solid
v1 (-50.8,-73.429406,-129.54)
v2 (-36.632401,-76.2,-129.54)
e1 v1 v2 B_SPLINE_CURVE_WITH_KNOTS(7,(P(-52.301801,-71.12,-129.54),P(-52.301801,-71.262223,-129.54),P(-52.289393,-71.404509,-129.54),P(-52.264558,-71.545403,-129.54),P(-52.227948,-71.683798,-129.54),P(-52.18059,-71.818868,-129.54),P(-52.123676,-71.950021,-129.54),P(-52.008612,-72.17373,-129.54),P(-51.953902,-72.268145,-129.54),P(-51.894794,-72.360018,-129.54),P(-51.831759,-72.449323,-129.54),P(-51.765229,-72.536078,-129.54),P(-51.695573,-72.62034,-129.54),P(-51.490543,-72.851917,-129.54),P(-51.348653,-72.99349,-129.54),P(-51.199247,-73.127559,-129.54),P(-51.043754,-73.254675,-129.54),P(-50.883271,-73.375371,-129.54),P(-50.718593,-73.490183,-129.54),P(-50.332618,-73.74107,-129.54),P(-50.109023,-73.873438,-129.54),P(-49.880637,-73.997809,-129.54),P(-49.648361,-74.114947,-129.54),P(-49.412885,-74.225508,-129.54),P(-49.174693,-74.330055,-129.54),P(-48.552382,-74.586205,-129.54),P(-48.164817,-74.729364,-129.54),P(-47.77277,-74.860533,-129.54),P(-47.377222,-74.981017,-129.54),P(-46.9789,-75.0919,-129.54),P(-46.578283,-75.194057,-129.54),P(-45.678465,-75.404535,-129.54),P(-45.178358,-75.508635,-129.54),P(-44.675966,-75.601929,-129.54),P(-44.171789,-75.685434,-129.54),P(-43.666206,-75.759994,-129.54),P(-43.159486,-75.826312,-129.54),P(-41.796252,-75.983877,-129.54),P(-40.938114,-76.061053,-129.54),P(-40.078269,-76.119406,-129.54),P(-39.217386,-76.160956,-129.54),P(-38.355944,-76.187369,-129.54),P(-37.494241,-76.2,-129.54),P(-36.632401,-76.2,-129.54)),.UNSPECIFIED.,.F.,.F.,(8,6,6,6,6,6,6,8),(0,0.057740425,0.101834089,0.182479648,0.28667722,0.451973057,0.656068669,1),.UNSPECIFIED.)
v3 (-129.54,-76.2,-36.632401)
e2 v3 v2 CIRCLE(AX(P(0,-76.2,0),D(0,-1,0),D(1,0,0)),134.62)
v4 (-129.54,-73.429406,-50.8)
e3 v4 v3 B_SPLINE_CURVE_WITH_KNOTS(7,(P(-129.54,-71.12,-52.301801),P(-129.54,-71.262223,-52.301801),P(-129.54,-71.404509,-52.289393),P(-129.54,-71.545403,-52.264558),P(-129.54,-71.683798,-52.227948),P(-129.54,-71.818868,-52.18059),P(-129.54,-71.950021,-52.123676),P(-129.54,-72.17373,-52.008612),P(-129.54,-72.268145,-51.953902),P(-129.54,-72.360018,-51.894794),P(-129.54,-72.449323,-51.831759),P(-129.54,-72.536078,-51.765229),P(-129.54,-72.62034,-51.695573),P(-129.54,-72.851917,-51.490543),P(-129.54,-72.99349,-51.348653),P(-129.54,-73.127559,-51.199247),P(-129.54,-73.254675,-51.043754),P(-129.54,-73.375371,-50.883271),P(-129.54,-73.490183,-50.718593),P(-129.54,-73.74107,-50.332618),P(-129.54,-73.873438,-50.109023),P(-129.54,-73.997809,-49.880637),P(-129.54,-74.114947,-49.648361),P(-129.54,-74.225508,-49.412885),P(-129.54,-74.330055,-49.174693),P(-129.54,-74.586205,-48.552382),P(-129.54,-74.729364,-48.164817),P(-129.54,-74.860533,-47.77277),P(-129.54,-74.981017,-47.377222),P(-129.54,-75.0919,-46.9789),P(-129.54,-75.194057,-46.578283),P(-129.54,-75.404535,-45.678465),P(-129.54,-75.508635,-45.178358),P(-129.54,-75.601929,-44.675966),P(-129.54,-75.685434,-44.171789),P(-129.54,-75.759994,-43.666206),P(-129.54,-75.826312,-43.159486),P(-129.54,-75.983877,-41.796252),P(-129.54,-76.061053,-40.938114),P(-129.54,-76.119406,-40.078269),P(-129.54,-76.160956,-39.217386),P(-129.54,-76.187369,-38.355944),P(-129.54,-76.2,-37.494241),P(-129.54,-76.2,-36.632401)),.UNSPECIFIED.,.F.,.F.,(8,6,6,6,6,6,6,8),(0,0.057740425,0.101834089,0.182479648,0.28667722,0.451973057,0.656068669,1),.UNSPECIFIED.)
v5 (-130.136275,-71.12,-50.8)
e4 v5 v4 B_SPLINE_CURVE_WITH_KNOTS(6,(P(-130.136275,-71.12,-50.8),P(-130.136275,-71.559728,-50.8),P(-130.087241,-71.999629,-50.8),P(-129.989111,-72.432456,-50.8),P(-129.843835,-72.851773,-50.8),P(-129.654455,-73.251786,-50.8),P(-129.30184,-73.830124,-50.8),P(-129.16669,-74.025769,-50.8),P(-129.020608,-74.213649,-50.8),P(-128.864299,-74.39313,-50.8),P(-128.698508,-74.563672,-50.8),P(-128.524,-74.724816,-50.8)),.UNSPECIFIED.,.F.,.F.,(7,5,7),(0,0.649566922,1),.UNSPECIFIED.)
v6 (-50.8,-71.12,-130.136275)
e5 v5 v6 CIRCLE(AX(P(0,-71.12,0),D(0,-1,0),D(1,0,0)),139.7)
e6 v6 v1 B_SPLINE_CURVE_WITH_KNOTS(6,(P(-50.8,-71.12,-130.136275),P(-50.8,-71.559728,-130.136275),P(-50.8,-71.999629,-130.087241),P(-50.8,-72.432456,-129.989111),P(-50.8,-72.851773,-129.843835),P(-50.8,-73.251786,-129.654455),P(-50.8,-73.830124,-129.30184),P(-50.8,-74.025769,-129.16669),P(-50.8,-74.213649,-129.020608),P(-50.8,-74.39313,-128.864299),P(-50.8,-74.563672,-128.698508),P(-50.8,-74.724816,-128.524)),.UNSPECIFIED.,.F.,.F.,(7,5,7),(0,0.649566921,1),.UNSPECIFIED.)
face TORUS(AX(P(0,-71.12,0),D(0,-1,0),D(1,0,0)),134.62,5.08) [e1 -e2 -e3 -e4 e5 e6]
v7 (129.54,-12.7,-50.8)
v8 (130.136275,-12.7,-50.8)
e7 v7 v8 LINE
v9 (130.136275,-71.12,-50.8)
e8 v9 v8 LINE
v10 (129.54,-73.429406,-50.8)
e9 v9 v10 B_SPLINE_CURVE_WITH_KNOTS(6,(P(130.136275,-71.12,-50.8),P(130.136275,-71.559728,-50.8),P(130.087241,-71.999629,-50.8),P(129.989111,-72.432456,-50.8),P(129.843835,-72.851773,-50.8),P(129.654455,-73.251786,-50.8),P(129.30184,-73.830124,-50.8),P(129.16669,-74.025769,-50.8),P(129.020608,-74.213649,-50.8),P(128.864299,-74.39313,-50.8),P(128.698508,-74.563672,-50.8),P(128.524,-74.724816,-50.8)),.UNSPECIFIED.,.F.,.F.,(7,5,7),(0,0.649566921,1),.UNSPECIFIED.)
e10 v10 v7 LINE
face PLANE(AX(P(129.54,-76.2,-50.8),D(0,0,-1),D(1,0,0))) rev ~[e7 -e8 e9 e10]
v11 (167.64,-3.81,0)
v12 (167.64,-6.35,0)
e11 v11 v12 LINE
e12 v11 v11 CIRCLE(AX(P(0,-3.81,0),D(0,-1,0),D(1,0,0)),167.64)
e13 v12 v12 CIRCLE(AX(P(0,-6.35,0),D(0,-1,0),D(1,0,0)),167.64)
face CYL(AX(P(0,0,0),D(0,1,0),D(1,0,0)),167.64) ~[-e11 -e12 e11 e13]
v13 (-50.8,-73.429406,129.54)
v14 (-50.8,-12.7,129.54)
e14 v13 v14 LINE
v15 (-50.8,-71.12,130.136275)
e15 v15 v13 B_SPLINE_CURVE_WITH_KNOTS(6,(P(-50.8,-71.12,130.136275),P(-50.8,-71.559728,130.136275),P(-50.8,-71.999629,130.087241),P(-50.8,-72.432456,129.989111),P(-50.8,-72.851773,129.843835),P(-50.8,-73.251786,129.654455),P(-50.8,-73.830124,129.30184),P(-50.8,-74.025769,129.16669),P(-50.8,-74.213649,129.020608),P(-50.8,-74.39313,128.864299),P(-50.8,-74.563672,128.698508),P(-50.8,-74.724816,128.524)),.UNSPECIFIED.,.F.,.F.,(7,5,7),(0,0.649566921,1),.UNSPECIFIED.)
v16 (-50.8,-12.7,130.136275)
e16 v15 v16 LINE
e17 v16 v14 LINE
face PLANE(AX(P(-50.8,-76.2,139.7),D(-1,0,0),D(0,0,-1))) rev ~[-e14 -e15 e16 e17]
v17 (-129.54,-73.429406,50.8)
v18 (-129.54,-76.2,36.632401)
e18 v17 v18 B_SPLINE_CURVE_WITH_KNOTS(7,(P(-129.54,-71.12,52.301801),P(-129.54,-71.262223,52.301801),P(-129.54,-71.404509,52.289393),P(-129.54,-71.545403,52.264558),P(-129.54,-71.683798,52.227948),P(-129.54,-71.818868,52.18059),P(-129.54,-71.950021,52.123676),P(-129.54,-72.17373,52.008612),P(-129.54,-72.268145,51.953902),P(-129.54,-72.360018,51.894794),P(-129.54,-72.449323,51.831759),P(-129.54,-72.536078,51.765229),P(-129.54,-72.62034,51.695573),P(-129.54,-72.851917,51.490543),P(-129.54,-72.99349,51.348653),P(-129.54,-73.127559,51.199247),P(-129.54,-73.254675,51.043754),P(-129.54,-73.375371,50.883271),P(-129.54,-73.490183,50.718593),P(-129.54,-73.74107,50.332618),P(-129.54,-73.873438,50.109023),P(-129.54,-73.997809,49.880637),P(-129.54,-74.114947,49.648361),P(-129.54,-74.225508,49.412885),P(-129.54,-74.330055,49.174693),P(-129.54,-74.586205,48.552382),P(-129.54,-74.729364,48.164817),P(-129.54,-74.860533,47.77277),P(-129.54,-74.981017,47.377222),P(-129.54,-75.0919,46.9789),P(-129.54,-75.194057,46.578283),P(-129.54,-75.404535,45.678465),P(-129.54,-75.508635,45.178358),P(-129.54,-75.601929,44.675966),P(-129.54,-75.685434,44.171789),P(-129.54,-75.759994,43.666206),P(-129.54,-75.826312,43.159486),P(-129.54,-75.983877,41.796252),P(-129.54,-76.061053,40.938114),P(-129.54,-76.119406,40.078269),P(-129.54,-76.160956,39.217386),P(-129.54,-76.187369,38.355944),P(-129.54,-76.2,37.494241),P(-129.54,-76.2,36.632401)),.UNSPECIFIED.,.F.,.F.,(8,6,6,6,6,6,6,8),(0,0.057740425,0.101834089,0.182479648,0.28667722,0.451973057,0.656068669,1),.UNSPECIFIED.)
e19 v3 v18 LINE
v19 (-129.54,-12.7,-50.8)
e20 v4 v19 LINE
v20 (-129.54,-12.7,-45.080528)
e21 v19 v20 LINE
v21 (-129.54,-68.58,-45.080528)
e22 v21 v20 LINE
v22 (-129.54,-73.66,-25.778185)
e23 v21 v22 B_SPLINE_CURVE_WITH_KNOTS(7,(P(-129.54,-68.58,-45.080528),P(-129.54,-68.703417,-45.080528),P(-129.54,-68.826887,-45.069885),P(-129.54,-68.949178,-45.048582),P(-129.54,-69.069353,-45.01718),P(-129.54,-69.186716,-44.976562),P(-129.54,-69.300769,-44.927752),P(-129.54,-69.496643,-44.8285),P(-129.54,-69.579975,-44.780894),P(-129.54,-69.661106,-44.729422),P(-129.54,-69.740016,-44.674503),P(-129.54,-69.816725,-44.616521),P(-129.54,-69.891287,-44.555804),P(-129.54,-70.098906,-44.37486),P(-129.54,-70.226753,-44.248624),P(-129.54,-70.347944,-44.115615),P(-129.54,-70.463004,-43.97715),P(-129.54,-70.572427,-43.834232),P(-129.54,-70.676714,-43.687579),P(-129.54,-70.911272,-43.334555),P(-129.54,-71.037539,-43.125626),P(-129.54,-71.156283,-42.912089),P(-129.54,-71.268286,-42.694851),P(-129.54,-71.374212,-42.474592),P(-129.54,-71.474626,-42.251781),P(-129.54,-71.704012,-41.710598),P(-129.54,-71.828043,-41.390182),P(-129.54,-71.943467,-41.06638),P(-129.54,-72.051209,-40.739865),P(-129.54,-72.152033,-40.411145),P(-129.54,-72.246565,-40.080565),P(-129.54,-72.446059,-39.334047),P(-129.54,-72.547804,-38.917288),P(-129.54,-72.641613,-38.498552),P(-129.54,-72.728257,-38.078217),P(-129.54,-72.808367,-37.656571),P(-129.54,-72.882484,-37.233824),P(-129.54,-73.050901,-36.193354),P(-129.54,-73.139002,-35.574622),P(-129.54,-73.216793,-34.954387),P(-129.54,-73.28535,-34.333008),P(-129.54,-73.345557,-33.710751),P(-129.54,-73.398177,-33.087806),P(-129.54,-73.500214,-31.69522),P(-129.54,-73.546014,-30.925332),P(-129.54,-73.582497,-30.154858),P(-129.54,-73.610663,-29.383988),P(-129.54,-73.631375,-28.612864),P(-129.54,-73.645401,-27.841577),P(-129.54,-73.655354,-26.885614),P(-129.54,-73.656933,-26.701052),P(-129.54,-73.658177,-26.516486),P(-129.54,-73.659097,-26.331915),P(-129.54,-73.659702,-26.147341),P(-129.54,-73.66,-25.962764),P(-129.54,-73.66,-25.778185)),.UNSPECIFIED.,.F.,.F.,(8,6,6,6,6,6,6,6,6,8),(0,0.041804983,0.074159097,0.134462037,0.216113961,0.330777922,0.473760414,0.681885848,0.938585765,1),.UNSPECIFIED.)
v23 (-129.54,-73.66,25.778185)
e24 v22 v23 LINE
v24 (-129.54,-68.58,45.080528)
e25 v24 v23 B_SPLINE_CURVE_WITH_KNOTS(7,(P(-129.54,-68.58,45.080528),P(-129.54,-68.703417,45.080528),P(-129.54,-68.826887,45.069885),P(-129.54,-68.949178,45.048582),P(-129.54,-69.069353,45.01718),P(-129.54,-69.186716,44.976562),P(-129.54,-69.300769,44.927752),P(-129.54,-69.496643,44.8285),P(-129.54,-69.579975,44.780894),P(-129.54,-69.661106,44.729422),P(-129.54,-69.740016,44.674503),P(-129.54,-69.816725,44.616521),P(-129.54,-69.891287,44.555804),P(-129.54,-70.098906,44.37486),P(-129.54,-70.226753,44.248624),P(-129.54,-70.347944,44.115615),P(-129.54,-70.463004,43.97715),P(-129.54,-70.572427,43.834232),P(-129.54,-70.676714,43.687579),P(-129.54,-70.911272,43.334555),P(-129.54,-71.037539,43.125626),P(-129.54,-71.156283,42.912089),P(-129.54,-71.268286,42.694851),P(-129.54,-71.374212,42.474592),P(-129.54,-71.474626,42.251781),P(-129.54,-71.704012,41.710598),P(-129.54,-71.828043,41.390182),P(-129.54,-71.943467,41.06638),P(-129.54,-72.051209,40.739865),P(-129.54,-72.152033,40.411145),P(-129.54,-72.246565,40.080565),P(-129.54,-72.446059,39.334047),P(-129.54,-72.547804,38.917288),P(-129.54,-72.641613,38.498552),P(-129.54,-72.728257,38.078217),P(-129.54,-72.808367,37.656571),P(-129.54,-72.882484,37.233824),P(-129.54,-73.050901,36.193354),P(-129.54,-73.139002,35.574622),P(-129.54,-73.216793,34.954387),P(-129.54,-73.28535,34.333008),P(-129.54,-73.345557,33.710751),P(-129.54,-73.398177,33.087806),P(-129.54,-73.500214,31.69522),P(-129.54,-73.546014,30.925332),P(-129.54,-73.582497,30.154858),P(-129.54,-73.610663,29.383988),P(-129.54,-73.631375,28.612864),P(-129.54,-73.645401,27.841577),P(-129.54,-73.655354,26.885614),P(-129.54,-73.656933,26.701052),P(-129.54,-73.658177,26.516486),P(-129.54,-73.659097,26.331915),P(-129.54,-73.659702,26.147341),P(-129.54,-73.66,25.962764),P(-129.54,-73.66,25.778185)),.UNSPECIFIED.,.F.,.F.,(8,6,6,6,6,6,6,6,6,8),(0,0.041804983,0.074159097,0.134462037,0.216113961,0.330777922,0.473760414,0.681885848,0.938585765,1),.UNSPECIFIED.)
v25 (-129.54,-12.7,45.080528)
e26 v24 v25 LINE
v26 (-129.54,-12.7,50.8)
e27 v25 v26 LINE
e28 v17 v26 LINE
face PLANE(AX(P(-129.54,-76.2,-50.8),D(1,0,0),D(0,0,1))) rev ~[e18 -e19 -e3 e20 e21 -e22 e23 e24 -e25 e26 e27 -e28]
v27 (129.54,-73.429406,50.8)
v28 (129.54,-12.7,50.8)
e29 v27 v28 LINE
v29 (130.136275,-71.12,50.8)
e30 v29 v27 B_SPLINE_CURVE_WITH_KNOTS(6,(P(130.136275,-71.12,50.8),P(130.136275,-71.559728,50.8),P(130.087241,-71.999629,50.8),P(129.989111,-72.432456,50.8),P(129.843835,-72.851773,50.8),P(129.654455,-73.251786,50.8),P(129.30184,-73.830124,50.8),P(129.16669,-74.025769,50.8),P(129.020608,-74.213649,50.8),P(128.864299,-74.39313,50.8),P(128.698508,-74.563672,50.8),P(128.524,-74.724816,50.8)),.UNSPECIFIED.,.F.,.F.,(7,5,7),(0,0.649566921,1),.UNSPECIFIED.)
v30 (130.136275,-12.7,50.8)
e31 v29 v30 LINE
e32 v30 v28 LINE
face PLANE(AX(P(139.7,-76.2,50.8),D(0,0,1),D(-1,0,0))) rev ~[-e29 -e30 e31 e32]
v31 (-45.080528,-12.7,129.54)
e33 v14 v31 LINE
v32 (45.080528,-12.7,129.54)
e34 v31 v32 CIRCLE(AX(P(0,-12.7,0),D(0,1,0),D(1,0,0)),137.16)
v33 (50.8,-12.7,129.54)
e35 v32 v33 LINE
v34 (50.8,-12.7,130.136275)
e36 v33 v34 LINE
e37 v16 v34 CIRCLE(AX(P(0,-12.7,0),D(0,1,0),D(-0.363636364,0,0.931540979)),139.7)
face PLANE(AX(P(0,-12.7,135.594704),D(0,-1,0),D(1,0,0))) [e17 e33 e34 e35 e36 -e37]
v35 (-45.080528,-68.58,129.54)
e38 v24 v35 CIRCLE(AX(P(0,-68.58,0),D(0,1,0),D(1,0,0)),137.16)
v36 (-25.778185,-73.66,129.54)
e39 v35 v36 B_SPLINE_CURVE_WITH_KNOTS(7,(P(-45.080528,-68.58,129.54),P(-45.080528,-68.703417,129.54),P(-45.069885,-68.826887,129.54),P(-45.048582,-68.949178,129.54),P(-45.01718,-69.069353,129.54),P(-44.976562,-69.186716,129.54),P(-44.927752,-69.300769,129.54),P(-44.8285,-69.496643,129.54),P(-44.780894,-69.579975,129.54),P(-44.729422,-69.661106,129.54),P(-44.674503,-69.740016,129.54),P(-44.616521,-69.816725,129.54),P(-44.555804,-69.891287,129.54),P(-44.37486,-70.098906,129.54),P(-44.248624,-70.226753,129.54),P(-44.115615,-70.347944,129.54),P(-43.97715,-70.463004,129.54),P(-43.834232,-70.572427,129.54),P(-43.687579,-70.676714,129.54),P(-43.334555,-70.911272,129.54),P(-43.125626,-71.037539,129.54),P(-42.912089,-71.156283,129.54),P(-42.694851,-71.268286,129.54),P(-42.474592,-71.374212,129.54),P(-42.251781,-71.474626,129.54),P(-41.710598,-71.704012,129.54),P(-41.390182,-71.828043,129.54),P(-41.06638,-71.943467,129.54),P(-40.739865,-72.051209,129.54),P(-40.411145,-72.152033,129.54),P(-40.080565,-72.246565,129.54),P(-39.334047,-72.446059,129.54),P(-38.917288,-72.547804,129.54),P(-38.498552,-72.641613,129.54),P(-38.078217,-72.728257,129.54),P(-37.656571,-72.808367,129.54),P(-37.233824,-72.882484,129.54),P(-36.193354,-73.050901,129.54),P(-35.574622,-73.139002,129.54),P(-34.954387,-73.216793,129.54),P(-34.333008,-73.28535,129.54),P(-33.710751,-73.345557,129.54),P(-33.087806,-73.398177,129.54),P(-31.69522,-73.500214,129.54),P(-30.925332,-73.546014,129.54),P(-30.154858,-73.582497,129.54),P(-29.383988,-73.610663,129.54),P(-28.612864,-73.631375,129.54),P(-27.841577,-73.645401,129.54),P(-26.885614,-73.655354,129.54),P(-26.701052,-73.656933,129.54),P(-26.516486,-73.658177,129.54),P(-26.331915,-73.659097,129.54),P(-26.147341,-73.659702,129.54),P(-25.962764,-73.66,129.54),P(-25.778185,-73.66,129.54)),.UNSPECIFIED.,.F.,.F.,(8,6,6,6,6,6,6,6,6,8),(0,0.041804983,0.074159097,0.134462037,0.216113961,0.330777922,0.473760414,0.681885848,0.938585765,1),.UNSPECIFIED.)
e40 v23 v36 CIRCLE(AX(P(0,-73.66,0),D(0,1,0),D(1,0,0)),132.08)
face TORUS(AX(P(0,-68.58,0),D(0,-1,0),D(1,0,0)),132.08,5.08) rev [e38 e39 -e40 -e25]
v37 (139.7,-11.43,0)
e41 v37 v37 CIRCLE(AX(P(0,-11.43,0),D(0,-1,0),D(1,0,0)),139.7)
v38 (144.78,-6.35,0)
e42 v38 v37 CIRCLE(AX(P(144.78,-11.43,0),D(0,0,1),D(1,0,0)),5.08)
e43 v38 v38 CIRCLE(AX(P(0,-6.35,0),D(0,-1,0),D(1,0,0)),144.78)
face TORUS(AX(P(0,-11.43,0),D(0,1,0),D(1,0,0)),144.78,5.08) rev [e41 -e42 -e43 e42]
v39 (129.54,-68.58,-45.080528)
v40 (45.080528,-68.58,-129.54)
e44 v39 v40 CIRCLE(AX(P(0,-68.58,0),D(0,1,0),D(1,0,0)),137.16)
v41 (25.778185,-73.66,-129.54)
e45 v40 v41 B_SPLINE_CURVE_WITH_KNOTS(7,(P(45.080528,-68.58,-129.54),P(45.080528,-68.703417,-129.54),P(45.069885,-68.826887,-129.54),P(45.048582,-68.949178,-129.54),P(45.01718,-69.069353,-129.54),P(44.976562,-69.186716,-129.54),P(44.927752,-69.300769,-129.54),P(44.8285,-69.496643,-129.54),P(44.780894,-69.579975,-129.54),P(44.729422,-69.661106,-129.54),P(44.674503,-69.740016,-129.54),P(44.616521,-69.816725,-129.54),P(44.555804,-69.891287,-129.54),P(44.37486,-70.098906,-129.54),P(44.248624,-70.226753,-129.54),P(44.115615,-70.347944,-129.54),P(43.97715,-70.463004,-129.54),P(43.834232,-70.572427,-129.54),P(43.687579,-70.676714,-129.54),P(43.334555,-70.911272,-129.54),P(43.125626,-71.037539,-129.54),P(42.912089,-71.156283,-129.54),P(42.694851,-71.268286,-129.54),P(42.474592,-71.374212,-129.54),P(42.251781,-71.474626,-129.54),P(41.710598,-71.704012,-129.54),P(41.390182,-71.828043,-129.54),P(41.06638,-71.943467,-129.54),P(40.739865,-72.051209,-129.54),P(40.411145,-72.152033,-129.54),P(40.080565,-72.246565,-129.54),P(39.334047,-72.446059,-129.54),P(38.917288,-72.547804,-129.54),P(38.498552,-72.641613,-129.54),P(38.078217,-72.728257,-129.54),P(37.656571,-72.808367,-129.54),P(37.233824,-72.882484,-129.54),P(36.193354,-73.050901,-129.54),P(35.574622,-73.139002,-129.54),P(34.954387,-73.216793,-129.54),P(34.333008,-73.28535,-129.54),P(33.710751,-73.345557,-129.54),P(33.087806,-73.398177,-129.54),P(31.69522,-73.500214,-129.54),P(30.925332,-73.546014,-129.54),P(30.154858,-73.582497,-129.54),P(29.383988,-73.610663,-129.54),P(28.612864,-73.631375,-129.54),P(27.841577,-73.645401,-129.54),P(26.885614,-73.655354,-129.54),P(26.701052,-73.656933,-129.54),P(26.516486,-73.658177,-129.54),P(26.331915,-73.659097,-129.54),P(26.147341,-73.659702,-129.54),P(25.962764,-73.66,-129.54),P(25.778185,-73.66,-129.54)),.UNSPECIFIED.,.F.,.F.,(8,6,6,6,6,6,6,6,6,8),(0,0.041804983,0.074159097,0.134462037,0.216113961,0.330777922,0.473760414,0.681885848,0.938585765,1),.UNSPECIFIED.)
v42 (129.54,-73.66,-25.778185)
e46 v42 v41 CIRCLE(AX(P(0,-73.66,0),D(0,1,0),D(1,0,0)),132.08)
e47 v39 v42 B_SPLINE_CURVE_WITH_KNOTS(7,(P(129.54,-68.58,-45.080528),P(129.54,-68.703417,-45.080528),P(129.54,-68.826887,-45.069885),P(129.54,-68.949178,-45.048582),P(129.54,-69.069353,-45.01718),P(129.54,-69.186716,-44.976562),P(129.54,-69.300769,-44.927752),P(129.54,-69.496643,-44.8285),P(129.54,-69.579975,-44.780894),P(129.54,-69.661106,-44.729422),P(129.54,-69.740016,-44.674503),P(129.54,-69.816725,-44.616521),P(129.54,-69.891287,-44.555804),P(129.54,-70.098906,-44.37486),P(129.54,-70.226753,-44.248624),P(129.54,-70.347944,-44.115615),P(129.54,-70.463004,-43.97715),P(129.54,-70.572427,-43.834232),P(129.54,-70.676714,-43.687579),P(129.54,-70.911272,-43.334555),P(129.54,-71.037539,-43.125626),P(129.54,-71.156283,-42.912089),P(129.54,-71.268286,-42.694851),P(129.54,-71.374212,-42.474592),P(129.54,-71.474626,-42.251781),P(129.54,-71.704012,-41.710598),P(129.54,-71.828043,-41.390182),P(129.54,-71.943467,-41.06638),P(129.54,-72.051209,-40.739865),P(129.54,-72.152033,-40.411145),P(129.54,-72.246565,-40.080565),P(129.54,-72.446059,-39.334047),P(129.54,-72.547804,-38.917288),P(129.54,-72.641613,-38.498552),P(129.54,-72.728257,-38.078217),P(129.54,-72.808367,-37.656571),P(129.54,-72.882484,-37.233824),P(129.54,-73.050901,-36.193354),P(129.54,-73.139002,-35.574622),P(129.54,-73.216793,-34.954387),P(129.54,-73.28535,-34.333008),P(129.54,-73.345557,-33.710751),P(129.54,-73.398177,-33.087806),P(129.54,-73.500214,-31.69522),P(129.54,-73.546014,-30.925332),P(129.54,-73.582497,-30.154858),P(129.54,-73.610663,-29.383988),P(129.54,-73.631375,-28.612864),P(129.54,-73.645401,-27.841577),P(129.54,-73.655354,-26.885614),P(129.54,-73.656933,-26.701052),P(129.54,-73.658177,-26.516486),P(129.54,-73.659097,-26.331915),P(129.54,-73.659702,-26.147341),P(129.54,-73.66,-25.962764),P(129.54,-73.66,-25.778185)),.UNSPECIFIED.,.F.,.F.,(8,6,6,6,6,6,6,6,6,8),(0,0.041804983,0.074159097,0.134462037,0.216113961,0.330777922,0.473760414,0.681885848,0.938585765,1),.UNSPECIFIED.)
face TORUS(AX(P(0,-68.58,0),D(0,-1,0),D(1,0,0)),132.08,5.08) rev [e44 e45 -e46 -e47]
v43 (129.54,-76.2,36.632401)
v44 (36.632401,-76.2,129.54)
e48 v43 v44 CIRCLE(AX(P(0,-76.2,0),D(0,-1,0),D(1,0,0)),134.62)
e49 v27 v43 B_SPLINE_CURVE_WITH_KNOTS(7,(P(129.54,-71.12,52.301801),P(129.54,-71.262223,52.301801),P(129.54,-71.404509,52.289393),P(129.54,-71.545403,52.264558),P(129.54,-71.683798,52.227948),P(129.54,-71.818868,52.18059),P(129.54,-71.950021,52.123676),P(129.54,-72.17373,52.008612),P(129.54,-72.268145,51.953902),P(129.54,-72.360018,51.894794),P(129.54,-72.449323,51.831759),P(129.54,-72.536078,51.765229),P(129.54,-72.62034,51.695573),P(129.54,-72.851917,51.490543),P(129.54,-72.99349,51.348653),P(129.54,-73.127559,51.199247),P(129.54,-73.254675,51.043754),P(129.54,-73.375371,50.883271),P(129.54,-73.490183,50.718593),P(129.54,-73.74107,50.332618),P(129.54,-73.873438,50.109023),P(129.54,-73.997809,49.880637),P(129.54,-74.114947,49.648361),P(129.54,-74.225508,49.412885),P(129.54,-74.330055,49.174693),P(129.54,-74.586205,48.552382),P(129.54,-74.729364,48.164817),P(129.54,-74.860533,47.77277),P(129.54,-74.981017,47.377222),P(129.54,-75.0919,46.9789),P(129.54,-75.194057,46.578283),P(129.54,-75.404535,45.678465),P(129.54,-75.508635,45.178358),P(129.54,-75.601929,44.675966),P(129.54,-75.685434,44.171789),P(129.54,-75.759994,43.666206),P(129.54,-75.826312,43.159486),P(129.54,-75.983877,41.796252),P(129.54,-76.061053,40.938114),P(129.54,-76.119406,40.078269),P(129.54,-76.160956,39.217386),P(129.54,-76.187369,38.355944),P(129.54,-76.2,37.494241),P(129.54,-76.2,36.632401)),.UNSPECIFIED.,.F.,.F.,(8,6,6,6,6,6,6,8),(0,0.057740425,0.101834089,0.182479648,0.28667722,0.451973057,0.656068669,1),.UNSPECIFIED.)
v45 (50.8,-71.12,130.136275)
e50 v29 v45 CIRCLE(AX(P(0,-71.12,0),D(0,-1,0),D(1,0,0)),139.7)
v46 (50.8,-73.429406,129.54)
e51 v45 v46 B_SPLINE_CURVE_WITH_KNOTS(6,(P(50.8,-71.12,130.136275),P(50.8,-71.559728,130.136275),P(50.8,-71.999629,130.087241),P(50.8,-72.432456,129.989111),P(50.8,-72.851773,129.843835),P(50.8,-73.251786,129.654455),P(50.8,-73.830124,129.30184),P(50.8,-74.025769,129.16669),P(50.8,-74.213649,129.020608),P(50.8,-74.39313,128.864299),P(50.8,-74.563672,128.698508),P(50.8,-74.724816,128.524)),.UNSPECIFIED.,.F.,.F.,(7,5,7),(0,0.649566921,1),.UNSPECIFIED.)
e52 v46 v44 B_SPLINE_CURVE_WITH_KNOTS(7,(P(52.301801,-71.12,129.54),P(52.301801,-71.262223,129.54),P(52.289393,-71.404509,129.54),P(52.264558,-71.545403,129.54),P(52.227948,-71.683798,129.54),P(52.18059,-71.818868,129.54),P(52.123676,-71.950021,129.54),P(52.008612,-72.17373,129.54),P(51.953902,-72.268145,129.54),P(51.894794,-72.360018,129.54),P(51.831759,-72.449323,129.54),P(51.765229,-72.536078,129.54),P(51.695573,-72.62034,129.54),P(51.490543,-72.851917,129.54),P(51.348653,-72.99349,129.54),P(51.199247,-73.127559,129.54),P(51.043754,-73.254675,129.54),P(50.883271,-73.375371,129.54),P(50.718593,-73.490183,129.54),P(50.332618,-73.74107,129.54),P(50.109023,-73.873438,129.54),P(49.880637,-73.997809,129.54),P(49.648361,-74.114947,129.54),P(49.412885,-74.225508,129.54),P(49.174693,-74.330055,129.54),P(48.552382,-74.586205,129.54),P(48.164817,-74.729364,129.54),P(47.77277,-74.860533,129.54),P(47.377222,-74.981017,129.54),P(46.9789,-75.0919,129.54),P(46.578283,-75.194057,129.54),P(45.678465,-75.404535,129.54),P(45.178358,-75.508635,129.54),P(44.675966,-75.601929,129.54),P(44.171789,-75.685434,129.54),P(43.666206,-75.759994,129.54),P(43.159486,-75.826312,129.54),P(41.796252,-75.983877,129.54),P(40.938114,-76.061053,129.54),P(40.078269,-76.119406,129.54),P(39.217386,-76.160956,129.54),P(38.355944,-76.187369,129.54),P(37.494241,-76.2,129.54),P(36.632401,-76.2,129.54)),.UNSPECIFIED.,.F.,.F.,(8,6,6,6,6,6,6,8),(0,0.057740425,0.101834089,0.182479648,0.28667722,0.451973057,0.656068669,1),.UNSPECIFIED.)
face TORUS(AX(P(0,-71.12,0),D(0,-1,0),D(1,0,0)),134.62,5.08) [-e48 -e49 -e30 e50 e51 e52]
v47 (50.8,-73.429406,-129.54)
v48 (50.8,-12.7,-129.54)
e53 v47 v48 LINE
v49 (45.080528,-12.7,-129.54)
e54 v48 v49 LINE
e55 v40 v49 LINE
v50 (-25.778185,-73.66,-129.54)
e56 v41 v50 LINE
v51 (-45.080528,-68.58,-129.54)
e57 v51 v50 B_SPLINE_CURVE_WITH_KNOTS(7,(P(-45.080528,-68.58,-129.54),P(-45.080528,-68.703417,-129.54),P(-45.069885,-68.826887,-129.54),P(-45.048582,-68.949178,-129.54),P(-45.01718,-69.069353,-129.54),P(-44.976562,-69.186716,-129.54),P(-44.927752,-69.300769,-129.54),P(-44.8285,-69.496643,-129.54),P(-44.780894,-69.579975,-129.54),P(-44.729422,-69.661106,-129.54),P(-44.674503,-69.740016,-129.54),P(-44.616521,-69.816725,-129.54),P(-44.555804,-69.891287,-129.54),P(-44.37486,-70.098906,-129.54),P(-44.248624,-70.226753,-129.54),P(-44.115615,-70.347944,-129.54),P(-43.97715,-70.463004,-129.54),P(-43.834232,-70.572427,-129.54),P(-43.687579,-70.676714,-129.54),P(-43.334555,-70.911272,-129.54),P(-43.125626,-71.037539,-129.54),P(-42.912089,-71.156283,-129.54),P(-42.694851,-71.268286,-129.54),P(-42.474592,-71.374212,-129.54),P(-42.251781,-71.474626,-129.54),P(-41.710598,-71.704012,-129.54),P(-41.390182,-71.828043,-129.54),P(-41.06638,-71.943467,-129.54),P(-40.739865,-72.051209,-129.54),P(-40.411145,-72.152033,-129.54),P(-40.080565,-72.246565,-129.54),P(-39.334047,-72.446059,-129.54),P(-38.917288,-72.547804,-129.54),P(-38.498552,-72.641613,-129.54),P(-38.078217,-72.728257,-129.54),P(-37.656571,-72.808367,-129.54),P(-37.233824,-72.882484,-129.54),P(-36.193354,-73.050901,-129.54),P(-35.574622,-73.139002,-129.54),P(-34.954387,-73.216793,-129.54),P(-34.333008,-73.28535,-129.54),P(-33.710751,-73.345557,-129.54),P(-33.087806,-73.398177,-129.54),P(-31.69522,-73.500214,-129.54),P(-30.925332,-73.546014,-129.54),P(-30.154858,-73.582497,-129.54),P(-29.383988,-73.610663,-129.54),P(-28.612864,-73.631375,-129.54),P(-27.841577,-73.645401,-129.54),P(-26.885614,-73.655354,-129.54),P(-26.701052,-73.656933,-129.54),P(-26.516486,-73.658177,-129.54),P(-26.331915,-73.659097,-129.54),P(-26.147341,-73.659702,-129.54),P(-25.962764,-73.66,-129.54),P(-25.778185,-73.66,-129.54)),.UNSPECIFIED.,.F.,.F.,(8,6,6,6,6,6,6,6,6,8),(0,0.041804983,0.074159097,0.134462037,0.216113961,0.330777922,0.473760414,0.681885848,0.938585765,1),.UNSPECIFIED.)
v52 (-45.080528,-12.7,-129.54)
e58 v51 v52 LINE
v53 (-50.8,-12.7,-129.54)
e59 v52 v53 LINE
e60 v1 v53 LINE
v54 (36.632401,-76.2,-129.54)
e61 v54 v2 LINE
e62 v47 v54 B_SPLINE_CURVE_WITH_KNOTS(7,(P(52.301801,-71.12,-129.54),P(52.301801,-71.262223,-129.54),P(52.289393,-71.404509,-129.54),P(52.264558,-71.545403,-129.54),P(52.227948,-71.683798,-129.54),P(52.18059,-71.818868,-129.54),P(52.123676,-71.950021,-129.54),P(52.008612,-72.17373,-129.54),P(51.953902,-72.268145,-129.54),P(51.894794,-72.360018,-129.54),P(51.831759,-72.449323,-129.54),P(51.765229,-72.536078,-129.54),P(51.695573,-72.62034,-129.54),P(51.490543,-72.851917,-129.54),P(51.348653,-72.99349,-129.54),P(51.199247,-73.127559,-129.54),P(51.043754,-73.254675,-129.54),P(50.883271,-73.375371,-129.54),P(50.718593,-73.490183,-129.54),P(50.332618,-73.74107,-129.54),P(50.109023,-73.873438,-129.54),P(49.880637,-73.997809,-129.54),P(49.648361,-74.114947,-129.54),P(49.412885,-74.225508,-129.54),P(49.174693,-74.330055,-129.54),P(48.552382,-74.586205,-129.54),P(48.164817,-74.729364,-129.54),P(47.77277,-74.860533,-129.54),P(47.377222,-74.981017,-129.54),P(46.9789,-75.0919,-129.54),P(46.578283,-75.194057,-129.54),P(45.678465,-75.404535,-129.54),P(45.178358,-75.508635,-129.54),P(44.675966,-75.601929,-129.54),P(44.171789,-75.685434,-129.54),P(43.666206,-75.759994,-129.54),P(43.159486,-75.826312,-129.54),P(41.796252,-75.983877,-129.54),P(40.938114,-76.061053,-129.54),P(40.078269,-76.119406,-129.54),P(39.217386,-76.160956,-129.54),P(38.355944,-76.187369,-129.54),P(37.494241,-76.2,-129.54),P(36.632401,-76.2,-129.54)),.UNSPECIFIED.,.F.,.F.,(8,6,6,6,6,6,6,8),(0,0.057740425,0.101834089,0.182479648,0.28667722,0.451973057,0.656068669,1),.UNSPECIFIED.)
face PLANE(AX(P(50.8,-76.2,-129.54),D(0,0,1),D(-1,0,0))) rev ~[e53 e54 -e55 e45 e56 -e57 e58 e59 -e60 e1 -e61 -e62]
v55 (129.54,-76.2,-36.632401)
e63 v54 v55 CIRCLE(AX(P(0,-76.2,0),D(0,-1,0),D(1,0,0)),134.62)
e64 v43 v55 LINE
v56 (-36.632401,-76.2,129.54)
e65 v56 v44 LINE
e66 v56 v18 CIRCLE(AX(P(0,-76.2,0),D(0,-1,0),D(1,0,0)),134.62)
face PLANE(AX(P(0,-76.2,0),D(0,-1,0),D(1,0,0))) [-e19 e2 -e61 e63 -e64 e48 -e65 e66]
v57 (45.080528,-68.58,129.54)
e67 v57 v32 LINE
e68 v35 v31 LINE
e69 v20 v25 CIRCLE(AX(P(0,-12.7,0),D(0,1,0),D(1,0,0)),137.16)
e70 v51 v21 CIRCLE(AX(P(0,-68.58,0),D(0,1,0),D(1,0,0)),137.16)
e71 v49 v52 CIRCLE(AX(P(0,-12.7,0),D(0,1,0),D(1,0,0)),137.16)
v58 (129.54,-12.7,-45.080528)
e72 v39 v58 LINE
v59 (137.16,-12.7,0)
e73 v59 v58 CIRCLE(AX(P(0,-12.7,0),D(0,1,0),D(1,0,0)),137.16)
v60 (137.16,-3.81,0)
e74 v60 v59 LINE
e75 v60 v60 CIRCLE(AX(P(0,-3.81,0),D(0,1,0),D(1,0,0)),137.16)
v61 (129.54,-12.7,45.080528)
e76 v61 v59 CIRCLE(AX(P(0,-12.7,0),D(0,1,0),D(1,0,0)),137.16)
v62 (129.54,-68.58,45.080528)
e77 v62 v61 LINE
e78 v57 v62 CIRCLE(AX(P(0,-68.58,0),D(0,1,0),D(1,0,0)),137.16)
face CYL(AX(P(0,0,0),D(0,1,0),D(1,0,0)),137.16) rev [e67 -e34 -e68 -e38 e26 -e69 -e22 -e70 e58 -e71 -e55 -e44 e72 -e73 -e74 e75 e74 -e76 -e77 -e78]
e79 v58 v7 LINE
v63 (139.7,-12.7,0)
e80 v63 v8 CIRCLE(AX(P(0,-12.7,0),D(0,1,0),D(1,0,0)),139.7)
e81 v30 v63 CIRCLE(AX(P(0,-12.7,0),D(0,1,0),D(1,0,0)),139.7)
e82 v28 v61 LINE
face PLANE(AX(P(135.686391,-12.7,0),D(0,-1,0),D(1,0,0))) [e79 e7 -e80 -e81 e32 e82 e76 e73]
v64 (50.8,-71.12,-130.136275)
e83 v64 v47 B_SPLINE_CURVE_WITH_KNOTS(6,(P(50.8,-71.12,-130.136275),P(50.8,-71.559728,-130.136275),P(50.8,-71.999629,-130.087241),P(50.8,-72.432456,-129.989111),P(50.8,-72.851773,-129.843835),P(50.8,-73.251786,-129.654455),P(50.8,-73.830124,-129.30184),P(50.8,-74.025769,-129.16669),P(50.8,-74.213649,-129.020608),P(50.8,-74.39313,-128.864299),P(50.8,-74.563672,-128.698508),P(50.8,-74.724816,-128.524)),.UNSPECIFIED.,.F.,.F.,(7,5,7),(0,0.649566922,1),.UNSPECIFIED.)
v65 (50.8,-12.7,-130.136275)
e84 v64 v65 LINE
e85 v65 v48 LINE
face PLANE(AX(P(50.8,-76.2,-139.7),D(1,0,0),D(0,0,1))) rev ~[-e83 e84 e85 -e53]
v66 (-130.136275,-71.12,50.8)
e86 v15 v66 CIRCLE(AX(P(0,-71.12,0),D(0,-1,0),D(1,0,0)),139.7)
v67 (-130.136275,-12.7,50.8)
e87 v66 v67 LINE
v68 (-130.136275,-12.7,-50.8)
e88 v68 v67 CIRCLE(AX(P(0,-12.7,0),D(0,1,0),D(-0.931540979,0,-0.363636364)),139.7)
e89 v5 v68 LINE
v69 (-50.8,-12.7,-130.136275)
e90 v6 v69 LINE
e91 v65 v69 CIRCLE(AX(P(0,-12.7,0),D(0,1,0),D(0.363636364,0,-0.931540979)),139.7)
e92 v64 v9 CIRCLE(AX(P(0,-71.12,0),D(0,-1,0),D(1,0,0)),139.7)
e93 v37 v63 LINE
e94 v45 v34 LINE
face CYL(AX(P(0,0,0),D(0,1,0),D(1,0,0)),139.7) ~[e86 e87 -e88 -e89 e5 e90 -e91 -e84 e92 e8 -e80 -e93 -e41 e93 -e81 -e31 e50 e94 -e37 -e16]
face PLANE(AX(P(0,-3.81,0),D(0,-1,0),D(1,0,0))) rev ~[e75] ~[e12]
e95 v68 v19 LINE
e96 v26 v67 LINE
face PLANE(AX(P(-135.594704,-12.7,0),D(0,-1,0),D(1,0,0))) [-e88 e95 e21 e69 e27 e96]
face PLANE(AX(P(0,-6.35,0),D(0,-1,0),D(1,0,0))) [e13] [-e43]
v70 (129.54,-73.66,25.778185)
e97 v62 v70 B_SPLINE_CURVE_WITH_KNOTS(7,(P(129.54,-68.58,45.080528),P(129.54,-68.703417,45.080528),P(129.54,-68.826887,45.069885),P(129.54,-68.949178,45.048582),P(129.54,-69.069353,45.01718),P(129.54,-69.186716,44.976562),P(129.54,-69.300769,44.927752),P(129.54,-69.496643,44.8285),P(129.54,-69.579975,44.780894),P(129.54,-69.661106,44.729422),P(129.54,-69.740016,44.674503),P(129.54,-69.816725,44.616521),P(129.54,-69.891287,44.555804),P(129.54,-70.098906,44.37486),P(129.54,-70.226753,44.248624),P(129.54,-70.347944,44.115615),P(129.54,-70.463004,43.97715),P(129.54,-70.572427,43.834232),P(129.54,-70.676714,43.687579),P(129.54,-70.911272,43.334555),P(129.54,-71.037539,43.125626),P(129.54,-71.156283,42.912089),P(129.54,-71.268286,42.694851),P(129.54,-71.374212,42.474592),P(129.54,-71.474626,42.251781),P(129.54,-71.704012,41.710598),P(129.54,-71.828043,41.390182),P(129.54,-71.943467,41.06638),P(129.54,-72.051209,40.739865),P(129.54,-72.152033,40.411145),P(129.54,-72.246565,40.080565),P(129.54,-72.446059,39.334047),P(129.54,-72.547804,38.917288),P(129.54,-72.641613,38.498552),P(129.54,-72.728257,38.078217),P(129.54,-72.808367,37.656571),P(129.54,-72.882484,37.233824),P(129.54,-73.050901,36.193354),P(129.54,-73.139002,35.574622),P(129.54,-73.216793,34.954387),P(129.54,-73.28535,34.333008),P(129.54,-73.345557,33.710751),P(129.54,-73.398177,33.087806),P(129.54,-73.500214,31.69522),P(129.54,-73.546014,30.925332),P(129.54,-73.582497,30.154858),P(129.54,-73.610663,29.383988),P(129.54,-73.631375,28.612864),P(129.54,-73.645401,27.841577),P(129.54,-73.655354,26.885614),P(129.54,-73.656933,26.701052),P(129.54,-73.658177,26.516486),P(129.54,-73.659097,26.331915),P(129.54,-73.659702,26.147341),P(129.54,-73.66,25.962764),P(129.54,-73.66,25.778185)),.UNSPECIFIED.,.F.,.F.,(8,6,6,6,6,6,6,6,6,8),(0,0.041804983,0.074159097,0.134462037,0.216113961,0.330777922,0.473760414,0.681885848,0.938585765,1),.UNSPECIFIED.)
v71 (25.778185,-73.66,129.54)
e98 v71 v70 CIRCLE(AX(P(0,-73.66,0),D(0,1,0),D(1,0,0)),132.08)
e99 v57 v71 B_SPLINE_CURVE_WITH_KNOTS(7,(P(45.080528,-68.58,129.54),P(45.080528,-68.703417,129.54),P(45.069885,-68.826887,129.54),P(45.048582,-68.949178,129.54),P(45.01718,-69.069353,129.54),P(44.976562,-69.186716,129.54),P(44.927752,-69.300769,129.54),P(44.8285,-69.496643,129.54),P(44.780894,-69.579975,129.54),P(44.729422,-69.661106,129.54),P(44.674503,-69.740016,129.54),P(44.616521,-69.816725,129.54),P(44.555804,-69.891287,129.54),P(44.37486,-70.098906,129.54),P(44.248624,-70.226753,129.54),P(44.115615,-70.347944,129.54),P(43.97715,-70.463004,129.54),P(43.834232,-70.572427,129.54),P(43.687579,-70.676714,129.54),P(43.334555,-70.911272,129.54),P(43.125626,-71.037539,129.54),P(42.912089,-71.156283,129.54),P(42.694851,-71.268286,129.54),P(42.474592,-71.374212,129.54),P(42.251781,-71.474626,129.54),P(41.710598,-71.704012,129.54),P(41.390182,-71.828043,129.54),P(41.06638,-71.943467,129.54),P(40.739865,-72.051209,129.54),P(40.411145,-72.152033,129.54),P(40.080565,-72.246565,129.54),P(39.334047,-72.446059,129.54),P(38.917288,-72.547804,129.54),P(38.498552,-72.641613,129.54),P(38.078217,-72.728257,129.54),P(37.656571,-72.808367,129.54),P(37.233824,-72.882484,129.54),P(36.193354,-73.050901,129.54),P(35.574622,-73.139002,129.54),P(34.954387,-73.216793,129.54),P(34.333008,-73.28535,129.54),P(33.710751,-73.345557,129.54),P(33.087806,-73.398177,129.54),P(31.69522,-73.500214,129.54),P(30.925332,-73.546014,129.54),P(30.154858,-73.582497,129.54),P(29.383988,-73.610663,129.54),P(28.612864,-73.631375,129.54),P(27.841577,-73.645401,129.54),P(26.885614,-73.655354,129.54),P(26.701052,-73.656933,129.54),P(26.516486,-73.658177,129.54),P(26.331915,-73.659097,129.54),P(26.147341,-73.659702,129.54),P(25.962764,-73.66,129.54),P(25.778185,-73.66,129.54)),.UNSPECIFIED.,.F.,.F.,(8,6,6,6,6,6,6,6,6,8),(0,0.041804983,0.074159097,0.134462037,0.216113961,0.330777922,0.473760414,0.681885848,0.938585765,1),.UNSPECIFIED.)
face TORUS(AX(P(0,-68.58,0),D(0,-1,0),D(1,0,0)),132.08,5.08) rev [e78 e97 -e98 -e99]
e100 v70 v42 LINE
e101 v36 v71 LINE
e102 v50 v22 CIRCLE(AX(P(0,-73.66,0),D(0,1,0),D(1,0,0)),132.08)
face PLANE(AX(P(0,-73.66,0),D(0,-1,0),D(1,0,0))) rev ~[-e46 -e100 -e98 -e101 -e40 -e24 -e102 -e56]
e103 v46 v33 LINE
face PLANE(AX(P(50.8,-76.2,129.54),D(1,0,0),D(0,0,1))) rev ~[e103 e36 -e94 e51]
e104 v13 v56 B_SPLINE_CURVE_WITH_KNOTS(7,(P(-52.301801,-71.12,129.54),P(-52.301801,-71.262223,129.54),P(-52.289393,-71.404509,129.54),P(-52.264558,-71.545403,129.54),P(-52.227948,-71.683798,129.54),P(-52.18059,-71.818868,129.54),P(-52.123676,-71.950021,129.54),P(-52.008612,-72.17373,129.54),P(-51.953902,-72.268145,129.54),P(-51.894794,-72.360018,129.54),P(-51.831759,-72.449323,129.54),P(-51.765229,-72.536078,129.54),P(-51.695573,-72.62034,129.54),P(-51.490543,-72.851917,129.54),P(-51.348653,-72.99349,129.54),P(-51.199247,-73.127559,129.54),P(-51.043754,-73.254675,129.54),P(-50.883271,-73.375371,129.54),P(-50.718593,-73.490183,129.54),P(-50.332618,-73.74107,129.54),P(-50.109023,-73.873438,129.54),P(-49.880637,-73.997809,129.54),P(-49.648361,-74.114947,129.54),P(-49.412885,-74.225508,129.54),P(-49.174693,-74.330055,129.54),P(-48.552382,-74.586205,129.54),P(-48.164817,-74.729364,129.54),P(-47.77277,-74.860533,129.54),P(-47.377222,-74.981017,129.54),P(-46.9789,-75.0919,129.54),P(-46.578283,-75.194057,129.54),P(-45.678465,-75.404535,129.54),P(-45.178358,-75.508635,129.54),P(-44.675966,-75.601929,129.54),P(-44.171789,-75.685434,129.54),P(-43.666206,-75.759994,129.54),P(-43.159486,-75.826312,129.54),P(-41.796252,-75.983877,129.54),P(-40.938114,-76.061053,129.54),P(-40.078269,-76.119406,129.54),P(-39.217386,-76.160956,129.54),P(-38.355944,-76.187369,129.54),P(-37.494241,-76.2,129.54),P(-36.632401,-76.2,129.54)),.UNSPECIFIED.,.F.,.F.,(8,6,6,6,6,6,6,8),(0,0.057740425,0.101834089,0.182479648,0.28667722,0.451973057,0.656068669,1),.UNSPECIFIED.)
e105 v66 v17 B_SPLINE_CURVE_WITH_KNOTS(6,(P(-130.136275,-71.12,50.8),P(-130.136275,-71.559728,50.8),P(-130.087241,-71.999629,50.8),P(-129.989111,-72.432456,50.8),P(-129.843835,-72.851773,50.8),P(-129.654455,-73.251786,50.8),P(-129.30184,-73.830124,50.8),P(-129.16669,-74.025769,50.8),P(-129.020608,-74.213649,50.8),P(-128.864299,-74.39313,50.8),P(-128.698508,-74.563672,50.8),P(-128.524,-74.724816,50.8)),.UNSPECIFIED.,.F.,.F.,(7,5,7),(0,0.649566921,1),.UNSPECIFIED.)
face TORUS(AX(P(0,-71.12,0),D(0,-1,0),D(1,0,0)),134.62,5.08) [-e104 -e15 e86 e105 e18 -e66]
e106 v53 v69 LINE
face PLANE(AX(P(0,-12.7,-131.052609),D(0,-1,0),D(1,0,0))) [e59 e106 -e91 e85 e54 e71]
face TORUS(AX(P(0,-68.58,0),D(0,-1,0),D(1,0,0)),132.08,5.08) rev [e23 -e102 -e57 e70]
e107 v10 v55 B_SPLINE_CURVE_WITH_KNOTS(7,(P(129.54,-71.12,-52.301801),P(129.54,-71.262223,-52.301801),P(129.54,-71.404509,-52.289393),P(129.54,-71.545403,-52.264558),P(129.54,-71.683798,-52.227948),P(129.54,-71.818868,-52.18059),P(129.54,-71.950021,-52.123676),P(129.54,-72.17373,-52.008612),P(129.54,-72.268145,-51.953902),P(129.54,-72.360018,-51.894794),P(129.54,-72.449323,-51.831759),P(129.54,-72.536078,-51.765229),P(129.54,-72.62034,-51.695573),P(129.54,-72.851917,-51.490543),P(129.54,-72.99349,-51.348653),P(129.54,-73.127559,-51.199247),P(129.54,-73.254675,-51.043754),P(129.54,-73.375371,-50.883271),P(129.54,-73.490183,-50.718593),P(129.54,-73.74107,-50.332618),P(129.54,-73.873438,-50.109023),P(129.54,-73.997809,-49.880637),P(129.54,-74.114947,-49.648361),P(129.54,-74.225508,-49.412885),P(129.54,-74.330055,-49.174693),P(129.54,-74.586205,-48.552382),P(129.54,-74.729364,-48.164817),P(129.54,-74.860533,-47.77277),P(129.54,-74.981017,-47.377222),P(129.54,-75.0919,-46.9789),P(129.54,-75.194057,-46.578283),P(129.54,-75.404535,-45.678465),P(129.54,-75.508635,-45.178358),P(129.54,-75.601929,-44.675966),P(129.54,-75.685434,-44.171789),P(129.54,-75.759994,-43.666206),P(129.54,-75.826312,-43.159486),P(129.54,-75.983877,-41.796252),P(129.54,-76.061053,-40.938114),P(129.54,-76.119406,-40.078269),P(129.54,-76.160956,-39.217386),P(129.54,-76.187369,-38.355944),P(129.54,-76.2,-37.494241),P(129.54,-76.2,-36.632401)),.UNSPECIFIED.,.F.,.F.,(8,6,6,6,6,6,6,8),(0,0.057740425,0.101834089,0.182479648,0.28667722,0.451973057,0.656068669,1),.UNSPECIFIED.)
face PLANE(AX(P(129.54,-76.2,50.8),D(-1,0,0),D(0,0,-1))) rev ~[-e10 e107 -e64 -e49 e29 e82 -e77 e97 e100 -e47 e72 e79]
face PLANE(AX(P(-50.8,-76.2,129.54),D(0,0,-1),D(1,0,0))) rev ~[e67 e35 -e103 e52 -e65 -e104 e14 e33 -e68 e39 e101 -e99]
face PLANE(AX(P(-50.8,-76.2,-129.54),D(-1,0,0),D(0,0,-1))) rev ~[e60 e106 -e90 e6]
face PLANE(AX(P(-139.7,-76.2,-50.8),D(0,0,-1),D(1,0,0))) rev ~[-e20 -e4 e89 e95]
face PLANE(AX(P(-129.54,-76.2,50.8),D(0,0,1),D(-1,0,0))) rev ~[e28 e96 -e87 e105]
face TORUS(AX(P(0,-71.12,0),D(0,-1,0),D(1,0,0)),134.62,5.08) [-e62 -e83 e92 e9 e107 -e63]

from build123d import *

# Parameters (mm, degrees)
F0_R     = 139.7
F0_R_2   = 138.43
F1_DEPTH = 76.2
F0_R_3   = 167.64
F2_DEPTH = 6.35
F3_T     = -2.54
F4_DEPTH = 3.81
F5_R     = 5.08
F7_DEPTH = 63.5


with BuildPart() as f1:
    # F0 (on Front) → F1 (new body)
    with BuildSketch(Plane.XZ):
        Circle(F0_R)
        Circle(F0_R_2, mode=Mode.SUBTRACT)
        Circle(F0_R_2)
    extrude(amount=F1_DEPTH)

    # F0 (on Front) → F2 (join)
    with BuildSketch(Plane.XZ):
        Circle(F0_R_3)
        Circle(F0_R, mode=Mode.SUBTRACT)
    extrude(amount=F2_DEPTH)

    # F3
    f3_openings = [f1.faces().sort_by_distance(p)[0] for p in [
        (0, 0, 0),
    ]]
    offset(amount=F3_T, openings=f3_openings, kind=Kind.INTERSECTION)

    # F0 (on Front) → F4 (cut)
    with BuildSketch(Plane.XZ):
        Circle(F0_R_3)
        Circle(F0_R, mode=Mode.SUBTRACT)
    extrude(amount=F4_DEPTH, mode=Mode.SUBTRACT)

    # F5
    f5_edges = [f1.edges().sort_by_distance(p)[0] for p in [
        (-139.7, -76.2, 0),
        (-139.7, -6.35, 0),
        (-137.16, -73.66, 0),
    ]]
    fillet(f5_edges, radius=F5_R)

    # F6 (on face) → F7 (cut)
    with BuildSketch(Plane.XZ.offset(76.2)):
        with BuildLine():
            Line((-139.7, -50.8), (-129.54, -50.8))
            Line((-129.54, -50.8), (-129.54, -36.6324009587))
            ThreePointArc((-129.54, -36.6324009587), (-134.62, 0), (-129.54, 36.6324009587))
            Line((-129.54, 36.6324009587), (-129.54, 50.8))
            Line((-129.54, 50.8), (-139.7, 50.8))
            Line((-139.7, 50.8), (-139.7, -50.8))
        make_face()
        with BuildLine():
            ThreePointArc((134.62, 0), (133.3439522438, -18.4914791188), (129.54, -36.6324009587))
            Line((129.54, -36.6324009587), (129.54, -50.8))
            Line((129.54, -50.8), (139.7, -50.8))
            Line((139.7, -50.8), (139.7, 50.8))
            Line((139.7, 50.8), (129.54, 50.8))
            Line((129.54, 50.8), (129.54, 36.6324009587))
            ThreePointArc((129.54, 36.6324009587), (133.3439522438, 18.4914791188), (134.62, 0))
        make_face()
        with BuildLine():
            ThreePointArc((-129.54, 36.6324009587), (-134.62, 0), (-129.54, -36.6324009587))
            Line((-129.54, -36.6324009587), (-129.54, 36.6324009587))
        make_face()
        with BuildLine():
            Line((129.54, 36.6324009587), (129.54, -36.6324009587))
            ThreePointArc((129.54, -36.6324009587), (133.3439522438, -18.4914791188), (134.62, 0))
            ThreePointArc((134.62, 0), (133.3439522438, 18.4914791188), (129.54, 36.6324009587))
        make_face()
        with BuildLine():
            Line((-50.8, 129.54), (-36.6324009587, 129.54))
            ThreePointArc((-36.6324009587, 129.54), (0, 134.62), (36.6324009587, 129.54))
            Line((36.6324009587, 129.54), (50.8, 129.54))
            Line((50.8, 129.54), (50.8, 139.7))
            Line((50.8, 139.7), (-50.8, 139.7))
            Line((-50.8, 139.7), (-50.8, 129.54))
        make_face()
        with BuildLine():
            ThreePointArc((36.6324009587, 129.54), (0, 134.62), (-36.6324009587, 129.54))
            Line((-36.6324009587, 129.54), (36.6324009587, 129.54))
        make_face()
        with BuildLine():
            Line((36.6324009587, -129.54), (-36.6324009587, -129.54))
            ThreePointArc((-36.6324009587, -129.54), (0, -134.62), (36.6324009587, -129.54))
        make_face()
        with BuildLine():
            ThreePointArc((36.6324009587, -129.54), (0, -134.62), (-36.6324009587, -129.54))
            Line((-36.6324009587, -129.54), (-50.8, -129.54))
            Line((-50.8, -129.54), (-50.8, -139.7))
            Line((-50.8, -139.7), (50.8, -139.7))
            Line((50.8, -139.7), (50.8, -129.54))
            Line((50.8, -129.54), (36.6324009587, -129.54))
        make_face()
    extrude(amount=-F7_DEPTH, mode=Mode.SUBTRACT)


solid = f1.part
